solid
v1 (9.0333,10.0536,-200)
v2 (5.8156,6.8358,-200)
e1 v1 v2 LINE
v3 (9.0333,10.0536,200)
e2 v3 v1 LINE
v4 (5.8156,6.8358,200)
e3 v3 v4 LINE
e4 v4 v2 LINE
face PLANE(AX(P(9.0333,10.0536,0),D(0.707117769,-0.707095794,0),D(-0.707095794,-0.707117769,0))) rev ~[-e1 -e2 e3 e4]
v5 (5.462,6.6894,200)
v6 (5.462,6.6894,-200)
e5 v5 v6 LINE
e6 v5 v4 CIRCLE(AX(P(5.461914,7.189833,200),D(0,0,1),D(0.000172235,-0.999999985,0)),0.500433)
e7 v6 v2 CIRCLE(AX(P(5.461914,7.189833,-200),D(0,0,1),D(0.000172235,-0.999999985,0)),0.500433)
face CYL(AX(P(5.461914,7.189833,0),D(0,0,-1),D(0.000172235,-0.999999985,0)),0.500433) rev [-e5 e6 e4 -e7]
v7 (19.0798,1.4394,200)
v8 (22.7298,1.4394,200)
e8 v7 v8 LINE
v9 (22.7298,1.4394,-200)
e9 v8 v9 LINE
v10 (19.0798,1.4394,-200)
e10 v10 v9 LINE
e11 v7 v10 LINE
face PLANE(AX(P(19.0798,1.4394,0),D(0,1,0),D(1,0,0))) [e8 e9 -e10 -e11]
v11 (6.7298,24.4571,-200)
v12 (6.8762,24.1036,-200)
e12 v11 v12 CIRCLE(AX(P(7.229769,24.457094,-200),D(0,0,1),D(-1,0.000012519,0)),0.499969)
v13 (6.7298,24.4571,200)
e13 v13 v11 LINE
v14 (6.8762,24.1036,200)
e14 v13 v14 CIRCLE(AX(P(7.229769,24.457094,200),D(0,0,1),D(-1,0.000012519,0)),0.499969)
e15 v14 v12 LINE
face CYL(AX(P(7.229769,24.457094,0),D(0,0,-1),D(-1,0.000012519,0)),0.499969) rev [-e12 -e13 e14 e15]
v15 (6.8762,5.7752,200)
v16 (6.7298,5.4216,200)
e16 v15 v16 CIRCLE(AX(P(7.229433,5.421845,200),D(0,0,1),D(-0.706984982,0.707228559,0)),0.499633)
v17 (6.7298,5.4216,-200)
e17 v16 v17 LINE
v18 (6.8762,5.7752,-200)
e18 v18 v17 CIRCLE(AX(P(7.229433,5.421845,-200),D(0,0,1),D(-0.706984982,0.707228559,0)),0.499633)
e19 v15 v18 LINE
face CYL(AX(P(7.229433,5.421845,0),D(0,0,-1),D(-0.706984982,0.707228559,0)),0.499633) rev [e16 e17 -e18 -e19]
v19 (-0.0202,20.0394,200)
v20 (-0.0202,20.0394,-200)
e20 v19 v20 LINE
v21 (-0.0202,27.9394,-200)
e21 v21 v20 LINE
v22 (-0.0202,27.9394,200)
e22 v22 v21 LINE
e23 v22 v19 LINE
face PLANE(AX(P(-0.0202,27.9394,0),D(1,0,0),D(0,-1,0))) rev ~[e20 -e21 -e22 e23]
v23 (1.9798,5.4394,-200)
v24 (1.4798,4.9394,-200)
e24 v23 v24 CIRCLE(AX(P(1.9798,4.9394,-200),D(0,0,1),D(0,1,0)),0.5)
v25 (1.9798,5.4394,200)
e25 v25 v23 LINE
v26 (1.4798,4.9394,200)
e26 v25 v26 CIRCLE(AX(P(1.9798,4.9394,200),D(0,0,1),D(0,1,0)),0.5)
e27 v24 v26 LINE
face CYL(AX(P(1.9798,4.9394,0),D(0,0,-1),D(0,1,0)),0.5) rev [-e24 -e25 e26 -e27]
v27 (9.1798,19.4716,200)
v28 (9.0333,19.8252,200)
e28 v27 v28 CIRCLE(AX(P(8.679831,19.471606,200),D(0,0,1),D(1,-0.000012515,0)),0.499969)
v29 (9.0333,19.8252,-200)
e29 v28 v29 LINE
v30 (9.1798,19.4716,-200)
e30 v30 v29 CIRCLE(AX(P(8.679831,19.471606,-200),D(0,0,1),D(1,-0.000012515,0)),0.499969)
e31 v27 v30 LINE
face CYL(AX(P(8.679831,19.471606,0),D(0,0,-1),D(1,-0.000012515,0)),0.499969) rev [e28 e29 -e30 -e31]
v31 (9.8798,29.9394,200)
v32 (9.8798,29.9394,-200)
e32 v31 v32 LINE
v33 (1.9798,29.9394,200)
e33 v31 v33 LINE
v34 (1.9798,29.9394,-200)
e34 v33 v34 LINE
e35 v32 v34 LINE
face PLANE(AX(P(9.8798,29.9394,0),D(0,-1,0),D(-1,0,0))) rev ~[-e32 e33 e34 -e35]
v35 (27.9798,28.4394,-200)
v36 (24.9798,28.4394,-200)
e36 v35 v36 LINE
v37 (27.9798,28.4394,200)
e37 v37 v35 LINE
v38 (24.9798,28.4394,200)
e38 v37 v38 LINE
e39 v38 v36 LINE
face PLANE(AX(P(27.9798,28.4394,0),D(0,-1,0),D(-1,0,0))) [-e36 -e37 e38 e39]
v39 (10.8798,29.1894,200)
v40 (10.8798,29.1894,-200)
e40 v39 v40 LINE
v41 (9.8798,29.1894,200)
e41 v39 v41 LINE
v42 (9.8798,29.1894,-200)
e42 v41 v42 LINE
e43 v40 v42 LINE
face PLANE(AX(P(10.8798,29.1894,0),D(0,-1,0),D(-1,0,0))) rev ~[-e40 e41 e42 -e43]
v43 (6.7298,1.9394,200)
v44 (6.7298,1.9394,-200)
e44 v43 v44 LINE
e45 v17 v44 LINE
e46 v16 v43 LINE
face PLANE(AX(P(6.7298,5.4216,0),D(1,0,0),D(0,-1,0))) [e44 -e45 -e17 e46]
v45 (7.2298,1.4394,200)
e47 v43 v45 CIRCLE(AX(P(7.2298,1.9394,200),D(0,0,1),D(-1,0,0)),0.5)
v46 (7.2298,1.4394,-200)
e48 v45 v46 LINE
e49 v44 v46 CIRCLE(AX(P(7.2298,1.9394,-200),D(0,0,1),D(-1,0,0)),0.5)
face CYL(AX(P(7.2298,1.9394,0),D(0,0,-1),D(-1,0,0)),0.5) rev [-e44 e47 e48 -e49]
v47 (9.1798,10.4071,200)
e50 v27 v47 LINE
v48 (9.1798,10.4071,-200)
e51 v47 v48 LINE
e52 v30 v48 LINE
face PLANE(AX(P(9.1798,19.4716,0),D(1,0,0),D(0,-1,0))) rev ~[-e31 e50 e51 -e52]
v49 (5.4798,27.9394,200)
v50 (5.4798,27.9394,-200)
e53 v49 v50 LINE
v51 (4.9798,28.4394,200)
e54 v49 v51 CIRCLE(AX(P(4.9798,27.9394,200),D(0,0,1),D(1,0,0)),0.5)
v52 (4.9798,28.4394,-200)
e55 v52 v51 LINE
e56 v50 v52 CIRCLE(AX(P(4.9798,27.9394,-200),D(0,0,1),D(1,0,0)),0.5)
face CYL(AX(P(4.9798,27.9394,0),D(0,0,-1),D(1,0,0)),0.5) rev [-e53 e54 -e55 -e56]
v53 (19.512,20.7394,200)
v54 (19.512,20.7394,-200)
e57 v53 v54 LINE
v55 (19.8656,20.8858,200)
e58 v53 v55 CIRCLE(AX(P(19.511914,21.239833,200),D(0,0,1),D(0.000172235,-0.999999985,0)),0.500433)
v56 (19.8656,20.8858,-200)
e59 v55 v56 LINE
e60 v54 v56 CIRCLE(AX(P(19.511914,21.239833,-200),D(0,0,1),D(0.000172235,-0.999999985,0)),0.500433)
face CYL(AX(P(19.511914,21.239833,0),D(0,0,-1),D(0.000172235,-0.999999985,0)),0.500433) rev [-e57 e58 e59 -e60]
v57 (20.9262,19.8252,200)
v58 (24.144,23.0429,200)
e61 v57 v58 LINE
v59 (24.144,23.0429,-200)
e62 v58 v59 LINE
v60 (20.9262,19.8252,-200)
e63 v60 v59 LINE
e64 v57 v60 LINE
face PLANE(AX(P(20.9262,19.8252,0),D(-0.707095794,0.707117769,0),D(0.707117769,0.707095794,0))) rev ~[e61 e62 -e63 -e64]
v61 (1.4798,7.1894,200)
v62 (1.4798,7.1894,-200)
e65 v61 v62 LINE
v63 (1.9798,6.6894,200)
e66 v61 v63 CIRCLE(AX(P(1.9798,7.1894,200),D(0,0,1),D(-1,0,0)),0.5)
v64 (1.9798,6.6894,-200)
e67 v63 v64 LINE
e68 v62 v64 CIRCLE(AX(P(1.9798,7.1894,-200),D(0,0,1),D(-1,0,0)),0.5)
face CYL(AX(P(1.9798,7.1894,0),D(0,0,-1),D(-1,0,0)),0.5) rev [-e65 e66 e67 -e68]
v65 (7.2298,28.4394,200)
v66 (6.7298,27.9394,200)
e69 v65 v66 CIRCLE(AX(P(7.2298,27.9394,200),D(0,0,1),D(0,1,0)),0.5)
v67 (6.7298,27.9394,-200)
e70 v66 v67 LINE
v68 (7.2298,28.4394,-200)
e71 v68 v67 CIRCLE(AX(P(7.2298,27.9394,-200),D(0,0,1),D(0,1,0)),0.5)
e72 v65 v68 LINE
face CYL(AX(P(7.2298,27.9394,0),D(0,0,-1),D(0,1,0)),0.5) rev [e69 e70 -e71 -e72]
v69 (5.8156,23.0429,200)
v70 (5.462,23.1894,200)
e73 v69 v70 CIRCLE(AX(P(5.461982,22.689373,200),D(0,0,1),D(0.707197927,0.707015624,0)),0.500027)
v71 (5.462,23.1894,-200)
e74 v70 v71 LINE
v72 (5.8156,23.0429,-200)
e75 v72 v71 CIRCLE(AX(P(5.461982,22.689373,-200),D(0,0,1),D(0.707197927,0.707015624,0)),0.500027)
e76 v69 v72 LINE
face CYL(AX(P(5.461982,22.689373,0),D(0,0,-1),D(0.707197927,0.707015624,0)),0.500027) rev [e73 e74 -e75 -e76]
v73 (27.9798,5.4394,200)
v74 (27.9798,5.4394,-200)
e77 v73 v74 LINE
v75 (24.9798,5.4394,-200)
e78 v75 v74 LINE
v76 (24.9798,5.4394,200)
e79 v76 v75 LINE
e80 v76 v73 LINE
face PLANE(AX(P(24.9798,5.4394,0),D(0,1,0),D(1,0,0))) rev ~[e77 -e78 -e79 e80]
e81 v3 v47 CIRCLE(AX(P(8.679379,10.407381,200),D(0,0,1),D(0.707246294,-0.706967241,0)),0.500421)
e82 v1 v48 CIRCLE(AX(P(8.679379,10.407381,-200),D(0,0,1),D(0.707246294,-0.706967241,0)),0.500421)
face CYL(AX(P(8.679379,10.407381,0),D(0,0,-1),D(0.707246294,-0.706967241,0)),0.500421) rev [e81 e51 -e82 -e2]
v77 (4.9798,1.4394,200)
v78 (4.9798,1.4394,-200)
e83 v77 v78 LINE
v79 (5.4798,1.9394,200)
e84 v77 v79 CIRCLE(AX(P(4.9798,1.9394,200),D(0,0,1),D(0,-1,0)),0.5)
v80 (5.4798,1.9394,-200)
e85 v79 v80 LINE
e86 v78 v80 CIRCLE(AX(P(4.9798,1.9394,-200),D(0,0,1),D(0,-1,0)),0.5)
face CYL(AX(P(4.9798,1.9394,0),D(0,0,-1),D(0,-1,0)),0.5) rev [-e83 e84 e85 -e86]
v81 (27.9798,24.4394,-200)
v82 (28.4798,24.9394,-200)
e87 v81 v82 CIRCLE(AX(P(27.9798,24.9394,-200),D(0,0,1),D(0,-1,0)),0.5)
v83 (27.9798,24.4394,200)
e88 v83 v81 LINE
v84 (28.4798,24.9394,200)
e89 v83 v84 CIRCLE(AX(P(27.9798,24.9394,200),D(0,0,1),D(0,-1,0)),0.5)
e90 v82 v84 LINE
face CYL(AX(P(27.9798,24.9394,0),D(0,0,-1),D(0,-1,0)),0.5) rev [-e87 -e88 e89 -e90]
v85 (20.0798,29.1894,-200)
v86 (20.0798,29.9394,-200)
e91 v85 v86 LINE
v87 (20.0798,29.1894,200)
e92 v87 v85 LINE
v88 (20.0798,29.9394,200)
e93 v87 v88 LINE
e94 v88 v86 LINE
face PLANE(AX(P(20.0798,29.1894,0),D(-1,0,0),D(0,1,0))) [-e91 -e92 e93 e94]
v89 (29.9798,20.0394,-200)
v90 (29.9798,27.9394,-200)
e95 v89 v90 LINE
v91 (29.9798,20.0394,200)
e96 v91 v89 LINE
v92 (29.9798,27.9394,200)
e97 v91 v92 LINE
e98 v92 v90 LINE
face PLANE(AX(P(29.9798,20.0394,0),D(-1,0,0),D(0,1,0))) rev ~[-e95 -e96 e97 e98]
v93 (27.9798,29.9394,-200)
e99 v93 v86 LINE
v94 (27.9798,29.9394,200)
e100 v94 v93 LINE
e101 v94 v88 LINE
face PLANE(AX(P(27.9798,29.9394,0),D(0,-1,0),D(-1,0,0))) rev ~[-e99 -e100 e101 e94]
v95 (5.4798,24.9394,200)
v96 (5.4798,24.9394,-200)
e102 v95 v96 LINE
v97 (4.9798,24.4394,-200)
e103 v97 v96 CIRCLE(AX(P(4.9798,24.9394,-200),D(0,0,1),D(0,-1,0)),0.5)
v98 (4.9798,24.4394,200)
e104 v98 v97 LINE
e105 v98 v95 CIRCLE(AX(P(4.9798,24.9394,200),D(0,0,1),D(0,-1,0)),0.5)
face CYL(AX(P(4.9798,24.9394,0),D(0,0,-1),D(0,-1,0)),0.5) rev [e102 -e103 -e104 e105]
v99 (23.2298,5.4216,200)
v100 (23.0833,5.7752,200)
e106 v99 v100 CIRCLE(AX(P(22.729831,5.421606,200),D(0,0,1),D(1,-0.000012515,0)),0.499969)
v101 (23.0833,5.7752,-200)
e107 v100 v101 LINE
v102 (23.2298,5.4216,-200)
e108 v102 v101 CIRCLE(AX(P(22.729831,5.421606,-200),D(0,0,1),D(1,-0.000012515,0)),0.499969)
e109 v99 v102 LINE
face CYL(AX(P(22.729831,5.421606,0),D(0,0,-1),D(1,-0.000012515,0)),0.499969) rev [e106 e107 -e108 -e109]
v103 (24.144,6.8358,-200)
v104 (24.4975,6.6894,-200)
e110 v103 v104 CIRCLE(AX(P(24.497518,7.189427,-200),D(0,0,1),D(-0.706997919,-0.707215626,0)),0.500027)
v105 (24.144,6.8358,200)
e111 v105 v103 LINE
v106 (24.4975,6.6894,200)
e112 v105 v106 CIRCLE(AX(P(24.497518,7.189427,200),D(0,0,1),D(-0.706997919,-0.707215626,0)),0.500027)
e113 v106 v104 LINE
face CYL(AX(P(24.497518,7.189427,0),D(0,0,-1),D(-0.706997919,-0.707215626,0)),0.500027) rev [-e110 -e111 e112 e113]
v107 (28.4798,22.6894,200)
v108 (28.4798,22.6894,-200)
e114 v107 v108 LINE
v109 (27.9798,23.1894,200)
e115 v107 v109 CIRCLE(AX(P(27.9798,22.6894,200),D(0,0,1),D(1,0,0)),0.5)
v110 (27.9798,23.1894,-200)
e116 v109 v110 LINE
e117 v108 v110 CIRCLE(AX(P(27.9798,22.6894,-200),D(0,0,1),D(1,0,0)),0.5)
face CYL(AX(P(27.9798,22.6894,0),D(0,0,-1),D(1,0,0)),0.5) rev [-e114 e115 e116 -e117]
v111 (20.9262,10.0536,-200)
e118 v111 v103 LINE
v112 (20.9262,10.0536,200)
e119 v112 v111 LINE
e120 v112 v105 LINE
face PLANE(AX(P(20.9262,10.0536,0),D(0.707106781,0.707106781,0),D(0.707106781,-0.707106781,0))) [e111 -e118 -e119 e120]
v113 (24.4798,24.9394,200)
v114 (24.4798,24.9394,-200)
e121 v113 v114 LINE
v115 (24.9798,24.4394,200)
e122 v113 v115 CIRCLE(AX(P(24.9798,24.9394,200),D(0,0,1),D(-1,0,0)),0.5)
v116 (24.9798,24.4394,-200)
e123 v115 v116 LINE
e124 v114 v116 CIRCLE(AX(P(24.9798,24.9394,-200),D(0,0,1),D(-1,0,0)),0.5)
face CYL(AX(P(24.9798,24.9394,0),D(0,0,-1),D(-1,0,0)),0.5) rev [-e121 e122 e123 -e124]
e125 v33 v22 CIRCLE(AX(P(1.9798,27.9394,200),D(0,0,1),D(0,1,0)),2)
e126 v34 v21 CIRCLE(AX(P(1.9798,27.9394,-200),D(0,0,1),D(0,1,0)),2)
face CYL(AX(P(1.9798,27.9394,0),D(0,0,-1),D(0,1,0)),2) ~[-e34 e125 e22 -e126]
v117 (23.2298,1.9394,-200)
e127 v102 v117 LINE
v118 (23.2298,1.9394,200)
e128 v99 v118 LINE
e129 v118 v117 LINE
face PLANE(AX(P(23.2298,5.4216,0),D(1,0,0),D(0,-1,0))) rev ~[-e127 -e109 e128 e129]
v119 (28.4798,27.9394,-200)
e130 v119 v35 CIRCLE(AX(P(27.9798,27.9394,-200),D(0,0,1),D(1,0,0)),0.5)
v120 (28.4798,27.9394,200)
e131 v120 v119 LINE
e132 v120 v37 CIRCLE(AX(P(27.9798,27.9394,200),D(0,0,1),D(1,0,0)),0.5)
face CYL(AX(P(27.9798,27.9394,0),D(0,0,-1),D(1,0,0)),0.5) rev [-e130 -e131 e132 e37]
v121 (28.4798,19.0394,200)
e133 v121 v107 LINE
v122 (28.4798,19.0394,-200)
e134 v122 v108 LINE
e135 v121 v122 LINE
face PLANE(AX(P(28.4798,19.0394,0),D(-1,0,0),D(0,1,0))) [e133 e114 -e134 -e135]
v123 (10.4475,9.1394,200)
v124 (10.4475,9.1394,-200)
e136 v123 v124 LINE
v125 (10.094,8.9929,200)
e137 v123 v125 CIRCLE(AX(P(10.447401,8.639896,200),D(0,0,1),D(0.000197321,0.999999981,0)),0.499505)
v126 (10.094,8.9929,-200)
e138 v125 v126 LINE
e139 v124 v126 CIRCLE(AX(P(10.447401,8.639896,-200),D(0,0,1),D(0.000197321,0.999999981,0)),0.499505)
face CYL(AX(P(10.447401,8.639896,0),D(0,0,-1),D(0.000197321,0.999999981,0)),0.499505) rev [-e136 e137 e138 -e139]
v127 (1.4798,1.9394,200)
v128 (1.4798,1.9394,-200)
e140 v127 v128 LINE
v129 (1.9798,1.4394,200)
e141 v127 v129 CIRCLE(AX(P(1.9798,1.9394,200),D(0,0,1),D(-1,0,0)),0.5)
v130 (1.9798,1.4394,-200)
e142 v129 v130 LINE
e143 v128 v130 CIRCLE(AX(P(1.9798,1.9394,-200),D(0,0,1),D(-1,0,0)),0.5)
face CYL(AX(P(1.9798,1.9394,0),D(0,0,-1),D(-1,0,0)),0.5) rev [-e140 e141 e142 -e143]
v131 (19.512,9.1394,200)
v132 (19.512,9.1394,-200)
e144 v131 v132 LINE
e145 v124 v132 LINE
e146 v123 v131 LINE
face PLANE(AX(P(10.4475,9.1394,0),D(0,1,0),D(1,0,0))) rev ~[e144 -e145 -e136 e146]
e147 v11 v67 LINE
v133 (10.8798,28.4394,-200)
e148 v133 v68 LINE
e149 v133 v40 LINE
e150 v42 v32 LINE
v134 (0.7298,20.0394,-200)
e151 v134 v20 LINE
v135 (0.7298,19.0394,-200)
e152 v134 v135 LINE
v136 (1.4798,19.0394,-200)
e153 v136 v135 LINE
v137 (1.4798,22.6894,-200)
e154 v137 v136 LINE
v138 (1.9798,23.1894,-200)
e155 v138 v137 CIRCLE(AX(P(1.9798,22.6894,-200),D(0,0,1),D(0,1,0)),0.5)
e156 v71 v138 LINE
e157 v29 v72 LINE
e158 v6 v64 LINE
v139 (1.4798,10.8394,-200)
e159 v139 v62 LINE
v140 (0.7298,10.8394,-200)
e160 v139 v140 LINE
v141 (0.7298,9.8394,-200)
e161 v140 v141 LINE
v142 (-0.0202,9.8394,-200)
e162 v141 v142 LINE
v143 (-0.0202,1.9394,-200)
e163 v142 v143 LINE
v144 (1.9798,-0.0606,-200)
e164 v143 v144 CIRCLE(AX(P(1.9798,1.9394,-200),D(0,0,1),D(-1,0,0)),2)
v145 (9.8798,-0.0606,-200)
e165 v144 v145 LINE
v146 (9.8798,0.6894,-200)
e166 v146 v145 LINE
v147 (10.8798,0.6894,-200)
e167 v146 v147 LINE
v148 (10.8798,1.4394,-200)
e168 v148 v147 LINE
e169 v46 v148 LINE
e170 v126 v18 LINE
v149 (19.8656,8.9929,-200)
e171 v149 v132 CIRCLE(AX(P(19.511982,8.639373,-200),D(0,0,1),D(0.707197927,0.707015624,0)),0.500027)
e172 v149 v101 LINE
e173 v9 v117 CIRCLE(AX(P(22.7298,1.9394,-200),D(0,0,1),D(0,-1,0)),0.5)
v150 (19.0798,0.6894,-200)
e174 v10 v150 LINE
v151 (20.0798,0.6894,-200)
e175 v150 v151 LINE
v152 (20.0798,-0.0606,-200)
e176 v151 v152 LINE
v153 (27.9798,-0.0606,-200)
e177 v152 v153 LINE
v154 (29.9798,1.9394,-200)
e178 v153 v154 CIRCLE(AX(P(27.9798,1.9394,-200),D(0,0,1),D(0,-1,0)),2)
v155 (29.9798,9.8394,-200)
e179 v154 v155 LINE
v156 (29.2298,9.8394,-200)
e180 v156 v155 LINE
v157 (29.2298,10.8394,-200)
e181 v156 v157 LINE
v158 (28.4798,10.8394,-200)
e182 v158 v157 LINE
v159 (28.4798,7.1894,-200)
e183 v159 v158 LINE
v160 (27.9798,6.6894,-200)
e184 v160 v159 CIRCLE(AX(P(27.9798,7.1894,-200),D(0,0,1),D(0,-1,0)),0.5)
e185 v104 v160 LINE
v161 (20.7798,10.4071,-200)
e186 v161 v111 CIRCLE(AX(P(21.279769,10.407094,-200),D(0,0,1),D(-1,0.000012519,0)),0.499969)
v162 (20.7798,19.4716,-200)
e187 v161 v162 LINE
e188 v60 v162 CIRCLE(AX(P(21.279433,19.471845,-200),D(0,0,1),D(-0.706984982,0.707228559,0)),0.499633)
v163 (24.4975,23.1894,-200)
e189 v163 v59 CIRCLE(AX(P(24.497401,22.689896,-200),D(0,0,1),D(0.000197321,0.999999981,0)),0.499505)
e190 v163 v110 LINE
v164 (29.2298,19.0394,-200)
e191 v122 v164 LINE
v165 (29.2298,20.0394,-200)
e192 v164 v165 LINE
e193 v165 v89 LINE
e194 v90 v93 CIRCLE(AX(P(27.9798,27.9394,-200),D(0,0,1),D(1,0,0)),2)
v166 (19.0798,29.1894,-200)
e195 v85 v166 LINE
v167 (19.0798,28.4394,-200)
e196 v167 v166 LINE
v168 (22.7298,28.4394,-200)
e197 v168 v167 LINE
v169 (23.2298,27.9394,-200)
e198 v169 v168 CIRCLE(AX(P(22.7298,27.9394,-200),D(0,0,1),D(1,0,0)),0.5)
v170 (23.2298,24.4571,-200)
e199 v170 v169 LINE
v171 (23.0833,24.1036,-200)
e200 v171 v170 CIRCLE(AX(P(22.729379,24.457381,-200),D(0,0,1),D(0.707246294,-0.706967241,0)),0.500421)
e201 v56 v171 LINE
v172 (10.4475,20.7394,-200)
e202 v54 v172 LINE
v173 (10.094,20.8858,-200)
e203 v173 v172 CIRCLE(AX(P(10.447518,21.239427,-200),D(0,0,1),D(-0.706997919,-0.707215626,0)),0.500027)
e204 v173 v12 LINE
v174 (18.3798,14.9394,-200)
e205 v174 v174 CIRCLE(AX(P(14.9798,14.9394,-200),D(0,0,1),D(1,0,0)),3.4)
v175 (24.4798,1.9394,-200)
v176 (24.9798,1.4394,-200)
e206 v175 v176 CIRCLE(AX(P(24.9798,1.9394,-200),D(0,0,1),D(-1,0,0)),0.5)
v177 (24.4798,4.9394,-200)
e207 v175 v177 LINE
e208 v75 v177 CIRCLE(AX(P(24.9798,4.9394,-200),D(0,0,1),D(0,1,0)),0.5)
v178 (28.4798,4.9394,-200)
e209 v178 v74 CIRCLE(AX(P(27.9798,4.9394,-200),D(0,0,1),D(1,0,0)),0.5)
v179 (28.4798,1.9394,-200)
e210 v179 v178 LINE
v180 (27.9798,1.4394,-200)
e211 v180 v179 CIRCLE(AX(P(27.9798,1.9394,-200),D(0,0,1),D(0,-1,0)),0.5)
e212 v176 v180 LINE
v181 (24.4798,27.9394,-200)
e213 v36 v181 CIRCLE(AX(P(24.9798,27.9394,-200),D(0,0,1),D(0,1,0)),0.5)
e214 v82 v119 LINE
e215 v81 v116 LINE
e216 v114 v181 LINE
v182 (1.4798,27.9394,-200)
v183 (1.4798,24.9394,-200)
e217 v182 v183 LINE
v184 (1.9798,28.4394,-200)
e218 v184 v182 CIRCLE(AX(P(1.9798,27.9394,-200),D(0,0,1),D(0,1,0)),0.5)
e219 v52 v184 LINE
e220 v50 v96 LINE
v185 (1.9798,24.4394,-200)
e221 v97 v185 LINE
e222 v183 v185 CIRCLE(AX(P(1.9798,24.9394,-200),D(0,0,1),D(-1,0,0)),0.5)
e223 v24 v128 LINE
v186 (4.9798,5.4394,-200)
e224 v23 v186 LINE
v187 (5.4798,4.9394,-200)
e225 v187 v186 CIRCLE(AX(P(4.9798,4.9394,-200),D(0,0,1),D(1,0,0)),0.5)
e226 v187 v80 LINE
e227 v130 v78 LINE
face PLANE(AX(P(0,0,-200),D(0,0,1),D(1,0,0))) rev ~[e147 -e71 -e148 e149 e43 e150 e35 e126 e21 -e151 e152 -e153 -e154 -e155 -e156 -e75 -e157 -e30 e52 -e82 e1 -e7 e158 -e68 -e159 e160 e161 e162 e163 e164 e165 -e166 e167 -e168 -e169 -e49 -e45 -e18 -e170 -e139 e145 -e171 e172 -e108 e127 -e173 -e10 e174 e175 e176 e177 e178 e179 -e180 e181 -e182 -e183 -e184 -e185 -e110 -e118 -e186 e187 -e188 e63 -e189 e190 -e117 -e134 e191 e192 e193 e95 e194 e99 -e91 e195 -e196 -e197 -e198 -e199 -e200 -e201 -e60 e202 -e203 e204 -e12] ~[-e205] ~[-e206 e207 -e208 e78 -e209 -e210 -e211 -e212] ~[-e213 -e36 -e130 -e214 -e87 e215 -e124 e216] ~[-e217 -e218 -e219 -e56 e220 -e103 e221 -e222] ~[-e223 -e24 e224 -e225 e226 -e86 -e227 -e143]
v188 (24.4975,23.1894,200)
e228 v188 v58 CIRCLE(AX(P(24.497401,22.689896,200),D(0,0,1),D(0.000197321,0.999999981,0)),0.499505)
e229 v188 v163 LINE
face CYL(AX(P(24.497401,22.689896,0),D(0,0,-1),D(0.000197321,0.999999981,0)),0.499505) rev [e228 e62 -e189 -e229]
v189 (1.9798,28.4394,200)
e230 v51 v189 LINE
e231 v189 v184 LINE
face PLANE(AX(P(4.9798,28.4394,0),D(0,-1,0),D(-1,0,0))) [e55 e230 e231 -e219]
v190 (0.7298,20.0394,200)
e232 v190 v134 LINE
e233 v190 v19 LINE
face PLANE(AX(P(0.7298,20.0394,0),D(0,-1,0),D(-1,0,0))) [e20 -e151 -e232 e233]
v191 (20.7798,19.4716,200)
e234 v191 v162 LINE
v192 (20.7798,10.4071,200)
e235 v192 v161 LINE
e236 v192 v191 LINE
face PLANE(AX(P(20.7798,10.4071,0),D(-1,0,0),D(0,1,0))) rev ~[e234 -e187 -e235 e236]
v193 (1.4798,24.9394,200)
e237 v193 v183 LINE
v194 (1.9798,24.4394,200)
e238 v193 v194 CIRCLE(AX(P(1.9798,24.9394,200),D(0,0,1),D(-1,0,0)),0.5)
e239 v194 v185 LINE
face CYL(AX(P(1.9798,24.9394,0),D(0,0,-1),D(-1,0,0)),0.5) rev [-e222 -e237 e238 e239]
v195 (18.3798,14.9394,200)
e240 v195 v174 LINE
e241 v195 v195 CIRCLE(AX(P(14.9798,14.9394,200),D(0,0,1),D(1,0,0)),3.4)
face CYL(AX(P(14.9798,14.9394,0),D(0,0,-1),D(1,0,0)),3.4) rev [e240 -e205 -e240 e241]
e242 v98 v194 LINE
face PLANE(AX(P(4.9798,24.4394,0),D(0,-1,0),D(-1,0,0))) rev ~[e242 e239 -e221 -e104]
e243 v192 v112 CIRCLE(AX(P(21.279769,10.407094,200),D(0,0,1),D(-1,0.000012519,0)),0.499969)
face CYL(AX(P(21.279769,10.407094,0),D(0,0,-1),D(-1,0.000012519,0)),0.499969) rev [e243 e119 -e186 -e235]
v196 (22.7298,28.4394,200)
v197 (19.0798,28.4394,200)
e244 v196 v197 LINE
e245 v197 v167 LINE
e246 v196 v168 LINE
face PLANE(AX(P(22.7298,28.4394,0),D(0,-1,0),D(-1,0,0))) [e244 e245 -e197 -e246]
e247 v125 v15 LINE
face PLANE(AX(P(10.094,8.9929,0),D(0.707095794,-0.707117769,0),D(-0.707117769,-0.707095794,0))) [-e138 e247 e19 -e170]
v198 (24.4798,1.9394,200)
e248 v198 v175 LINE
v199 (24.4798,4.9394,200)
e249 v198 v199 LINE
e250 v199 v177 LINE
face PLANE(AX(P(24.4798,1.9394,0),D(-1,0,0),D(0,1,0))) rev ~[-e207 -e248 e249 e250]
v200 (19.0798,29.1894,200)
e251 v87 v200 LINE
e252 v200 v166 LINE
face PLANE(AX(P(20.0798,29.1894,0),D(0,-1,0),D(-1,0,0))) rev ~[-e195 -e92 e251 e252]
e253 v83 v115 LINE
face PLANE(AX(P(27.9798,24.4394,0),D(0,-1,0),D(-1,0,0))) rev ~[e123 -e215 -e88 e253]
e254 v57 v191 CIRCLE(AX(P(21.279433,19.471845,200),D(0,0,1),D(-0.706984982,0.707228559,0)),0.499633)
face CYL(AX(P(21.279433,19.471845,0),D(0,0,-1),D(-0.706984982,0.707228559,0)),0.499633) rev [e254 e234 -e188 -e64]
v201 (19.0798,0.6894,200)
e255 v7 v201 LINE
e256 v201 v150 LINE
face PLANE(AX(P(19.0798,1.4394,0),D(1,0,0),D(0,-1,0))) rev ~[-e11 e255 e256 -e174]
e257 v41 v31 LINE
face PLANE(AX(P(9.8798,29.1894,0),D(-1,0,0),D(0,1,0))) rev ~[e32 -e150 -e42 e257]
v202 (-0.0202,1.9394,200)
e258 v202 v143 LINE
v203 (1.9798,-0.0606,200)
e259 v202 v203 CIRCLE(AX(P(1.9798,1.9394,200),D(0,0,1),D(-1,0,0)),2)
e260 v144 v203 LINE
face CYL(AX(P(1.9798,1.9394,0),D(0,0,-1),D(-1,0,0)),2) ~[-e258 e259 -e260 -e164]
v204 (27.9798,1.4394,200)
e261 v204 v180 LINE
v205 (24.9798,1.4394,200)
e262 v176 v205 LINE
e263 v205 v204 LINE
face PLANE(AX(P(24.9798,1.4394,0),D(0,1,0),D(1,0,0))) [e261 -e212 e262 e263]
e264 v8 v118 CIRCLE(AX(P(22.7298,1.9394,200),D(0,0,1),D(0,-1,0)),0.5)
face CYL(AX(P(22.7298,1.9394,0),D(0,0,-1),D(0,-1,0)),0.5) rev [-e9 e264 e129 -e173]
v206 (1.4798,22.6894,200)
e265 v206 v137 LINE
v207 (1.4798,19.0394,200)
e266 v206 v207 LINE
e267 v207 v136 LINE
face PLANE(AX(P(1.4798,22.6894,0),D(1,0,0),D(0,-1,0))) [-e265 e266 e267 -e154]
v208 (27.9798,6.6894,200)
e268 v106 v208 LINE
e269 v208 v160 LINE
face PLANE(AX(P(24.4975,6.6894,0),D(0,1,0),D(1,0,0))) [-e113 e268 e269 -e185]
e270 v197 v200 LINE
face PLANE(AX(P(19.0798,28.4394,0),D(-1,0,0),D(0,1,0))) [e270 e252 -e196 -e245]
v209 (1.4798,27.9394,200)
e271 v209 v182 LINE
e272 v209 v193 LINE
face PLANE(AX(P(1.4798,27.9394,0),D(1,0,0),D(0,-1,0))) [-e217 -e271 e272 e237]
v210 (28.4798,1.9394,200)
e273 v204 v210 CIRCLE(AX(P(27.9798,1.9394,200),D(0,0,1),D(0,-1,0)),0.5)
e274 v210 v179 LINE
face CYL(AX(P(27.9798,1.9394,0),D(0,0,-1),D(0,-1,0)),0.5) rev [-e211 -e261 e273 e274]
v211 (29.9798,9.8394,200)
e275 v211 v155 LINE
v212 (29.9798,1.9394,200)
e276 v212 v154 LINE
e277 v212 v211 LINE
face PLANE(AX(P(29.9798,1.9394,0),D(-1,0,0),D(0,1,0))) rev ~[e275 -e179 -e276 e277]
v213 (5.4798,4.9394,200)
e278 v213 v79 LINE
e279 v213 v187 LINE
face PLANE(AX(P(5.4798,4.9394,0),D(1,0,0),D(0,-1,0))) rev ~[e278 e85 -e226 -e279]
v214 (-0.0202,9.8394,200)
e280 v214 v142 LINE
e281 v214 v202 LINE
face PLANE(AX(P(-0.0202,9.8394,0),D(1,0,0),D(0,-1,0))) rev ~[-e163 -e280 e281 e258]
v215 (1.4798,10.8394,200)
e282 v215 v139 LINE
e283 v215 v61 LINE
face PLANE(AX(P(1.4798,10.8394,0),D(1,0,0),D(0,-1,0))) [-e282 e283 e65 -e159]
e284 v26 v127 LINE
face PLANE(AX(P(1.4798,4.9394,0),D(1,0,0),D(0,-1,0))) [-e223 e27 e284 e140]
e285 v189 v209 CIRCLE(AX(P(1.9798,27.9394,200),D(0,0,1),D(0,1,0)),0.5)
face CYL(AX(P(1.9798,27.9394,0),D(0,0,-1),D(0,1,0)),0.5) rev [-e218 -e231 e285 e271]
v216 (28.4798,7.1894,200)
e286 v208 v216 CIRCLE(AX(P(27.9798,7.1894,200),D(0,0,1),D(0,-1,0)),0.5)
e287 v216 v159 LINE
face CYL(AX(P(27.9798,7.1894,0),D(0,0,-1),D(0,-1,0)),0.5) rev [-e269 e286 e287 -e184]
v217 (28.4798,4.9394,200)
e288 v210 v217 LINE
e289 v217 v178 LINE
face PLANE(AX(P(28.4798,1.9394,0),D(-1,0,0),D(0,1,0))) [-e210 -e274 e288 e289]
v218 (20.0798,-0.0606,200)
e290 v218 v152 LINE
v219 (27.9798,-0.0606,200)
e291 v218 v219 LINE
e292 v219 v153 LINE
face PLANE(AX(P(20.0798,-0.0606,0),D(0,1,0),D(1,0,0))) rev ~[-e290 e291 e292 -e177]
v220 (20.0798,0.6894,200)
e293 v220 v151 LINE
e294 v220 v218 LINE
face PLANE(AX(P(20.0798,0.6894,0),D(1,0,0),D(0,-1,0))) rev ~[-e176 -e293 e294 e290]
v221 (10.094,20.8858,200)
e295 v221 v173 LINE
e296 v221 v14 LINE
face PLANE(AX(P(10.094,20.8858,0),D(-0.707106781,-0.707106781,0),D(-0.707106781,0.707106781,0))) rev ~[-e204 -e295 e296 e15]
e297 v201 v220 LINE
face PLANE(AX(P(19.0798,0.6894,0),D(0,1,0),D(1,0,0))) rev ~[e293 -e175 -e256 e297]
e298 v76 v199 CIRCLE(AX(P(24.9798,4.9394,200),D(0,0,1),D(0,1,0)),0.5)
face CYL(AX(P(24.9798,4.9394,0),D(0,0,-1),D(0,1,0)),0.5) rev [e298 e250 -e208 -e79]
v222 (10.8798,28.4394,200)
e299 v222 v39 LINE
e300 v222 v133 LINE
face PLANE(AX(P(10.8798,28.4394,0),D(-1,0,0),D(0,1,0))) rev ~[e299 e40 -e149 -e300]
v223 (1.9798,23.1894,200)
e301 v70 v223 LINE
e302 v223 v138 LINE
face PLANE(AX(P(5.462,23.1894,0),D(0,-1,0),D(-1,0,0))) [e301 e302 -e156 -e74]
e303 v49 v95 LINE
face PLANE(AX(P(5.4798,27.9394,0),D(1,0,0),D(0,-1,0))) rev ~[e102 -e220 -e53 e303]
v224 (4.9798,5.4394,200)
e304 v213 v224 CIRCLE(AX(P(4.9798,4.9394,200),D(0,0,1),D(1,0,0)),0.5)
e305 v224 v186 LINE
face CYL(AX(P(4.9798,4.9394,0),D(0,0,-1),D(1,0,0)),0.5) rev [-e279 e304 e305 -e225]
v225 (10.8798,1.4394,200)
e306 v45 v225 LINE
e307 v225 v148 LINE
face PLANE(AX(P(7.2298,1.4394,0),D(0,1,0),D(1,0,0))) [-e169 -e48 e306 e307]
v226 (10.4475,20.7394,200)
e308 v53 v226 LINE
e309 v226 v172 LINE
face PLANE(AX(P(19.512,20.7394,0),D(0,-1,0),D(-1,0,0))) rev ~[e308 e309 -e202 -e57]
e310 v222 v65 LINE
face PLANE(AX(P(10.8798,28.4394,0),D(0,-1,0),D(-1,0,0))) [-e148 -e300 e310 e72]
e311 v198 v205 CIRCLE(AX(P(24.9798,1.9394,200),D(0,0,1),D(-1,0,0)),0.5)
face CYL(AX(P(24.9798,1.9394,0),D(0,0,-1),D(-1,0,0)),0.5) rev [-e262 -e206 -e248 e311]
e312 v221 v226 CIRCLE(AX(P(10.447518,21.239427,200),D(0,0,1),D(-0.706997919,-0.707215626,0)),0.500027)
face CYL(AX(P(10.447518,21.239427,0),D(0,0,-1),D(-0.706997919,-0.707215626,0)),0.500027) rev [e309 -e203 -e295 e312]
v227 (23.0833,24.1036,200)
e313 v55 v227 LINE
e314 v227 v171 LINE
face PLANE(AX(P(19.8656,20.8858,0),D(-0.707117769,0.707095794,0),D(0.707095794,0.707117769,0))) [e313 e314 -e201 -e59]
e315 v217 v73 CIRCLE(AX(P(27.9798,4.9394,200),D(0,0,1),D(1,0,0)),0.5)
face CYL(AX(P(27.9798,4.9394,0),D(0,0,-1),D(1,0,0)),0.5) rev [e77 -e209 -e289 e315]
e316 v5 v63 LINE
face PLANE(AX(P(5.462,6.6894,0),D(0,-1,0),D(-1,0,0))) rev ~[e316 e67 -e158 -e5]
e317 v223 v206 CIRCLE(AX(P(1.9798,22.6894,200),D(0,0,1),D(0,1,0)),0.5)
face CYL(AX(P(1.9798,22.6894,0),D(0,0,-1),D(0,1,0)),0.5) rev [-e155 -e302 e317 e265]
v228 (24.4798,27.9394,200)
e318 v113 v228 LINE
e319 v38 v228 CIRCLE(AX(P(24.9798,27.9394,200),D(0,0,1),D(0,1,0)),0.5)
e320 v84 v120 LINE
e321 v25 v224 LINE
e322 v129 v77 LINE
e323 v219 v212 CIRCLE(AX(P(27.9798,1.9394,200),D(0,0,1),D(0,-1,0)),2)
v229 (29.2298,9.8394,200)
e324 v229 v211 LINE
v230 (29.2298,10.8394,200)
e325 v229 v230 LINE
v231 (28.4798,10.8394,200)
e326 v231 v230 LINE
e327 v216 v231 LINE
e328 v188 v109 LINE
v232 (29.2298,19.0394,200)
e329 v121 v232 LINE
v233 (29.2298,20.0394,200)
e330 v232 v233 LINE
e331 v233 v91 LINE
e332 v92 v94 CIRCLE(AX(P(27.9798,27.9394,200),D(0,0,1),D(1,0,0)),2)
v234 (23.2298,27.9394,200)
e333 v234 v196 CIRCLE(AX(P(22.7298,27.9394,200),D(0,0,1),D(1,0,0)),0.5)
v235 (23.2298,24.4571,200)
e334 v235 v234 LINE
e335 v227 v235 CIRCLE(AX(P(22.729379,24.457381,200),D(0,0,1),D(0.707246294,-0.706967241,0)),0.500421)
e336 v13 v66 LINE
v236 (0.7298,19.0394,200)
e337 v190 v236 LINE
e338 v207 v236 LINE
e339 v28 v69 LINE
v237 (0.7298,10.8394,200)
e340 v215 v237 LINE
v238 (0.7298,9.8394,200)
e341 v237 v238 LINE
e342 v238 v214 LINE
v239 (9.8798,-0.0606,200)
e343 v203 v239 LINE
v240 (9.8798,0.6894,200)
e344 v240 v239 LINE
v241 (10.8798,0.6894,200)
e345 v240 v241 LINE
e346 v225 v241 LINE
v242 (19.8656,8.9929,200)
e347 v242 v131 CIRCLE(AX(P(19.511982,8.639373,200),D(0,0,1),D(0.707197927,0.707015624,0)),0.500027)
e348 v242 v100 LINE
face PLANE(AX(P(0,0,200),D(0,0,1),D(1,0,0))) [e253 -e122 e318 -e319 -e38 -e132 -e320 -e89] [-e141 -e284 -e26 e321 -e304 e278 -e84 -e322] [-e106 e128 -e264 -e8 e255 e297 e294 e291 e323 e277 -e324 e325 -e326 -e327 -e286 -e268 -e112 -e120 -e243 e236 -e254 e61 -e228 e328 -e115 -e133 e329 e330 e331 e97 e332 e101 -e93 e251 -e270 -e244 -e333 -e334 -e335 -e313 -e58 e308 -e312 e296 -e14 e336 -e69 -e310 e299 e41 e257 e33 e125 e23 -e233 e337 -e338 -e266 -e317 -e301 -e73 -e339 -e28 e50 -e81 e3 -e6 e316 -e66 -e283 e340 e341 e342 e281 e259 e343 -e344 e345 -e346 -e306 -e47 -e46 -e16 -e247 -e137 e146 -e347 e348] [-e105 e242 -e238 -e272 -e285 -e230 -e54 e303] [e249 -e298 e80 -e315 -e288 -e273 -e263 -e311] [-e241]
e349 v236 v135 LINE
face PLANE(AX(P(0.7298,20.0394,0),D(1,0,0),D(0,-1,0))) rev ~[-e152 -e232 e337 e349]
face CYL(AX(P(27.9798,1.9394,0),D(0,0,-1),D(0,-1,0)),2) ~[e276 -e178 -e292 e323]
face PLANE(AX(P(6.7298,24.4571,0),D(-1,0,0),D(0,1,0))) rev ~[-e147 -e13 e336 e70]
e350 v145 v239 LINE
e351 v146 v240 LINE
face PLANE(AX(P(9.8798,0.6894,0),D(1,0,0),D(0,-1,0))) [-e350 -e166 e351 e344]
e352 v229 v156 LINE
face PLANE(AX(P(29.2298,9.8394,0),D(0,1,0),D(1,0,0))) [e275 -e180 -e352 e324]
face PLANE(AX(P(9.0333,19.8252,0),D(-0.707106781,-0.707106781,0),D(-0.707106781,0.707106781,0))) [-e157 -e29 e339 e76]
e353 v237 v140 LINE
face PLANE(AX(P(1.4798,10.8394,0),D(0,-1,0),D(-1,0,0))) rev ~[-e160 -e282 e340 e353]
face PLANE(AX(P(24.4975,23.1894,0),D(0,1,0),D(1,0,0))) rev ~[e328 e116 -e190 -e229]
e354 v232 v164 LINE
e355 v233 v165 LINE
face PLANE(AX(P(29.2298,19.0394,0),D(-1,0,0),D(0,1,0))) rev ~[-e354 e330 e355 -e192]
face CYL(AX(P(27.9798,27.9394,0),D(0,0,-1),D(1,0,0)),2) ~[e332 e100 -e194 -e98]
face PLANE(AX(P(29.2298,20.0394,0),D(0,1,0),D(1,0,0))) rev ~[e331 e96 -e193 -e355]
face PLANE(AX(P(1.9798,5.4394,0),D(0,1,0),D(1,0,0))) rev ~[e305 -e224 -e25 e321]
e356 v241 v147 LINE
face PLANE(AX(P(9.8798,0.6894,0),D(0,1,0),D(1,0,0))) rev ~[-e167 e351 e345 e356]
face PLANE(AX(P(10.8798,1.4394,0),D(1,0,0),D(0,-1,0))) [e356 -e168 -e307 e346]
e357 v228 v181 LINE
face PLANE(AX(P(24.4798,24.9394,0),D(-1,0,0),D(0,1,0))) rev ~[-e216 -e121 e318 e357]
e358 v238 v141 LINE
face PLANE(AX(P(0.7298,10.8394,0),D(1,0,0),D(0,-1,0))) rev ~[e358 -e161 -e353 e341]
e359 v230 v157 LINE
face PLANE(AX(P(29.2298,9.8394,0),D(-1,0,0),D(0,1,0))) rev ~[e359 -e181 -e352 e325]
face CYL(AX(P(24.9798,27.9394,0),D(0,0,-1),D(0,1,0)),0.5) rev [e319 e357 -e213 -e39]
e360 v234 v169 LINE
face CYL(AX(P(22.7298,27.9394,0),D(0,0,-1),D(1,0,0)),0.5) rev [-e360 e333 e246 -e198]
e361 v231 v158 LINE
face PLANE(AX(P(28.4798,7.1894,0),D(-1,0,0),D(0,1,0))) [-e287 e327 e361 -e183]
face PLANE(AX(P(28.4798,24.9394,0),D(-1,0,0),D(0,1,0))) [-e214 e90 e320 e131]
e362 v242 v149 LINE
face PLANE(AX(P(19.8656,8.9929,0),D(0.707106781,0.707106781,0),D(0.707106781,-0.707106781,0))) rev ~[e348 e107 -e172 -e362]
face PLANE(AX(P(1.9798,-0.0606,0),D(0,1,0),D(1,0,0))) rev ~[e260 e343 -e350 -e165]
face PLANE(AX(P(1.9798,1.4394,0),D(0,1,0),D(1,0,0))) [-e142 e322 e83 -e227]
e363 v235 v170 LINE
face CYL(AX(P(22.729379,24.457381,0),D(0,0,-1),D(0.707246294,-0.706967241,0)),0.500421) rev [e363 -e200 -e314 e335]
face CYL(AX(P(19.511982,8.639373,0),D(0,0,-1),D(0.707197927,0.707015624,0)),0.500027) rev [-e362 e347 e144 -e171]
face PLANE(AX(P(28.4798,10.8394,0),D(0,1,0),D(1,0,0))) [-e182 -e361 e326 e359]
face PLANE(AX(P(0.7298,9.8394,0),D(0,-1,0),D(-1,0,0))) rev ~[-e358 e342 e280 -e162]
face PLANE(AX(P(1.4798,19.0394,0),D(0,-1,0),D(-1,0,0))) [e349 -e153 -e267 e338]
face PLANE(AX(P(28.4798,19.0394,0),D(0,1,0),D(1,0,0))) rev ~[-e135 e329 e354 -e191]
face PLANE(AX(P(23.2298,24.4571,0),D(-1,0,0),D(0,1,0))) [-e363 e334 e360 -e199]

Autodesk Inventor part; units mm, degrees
ref_plane "YZ Plane" through (0, 0, 0) normal (1, 0, 0) x (0, 1, 0)
ref_plane "XZ Plane" through (0, 0, 0) normal (0, 1, 0) x (-1, 0, 0)
ref_plane "XY Plane" through (0, 0, 0) normal (0, 0, 1) x (1, 0, 0)
sketch "Sketch1" plane through (0, 0, 0) normal (0, 0, 1) x (1, 0, 0)
  line L0 (1.9798, -0.0606) -> (9.8798, -0.0606)
  line L1 (20.0798, -0.0606) -> (27.9798, -0.0606)
  arc A0 (-0.0202, 1.9394) -> (1.9798, -0.0606) centre (1.9798, 1.9394) ccw
  line L2 (29.9798, 1.9394) -> (29.9798, 9.8394)
  arc A1 (27.9798, -0.0606) -> (29.9798, 1.9394) centre (27.9798, 1.9394) ccw
  line L3 (29.9798, 20.0394) -> (29.9798, 27.9394)
  arc A2 (29.9798, 27.9394) -> (27.9798, 29.9394) centre (27.9798, 27.9394) ccw
  line L4 (27.9798, 29.9394) -> (20.0798, 29.9394)
  line L5 (9.8798, 29.9394) -> (1.9798, 29.9394)
  line L6 (-0.0202, 27.9394) -> (-0.0202, 20.0394)
  line L7 (-0.0202, 9.8394) -> (-0.0202, 1.9394)
  arc A3 (1.9798, 29.9394) -> (-0.0202, 27.9394) centre (1.9798, 27.9394) ccw
  circle A4 centre (14.9798, 14.9394) radius 3.4
  line L8 (24.9798, 1.4394) -> (27.9798, 1.4394)
  arc A5 (27.9798, 1.4394) -> (28.4798, 1.9394) centre (27.9798, 1.9394) ccw
  line L9 (28.4798, 1.9394) -> (28.4798, 4.9394)
  arc A6 (28.4798, 4.9394) -> (27.9798, 5.4394) centre (27.9798, 4.9394) ccw
  line L10 (29.2298, 9.8394) -> (29.2298, 10.8394)
  line L11 (29.2298, 19.0394) -> (29.2298, 20.0394)
  line L12 (28.4798, 7.1894) -> (28.4798, 10.8394)
  arc A7 (27.9798, 6.6894) -> (28.4798, 7.1894) centre (27.9798, 7.1894) ccw
  line L13 (28.4798, 19.0394) -> (28.4798, 22.6894)
  arc A8 (28.4798, 22.6894) -> (27.9798, 23.1894) centre (27.9798, 22.6894) ccw
  line L14 (20.9262, 19.8252) -> (24.144, 23.0429)
  arc A9 (24.4975, 23.1894) -> (24.144, 23.0429) centre (24.4975, 22.6894) ccw
  line L15 (20.9262, 10.0536) -> (24.144, 6.8358)
  arc A10 (20.7798, 10.4071) -> (20.9262, 10.0536) centre (21.2798, 10.4071) ccw
  line L16 (24.4975, 6.6894) -> (27.9798, 6.6894)
  arc A11 (24.144, 6.8358) -> (24.4975, 6.6894) centre (24.4975, 7.1894) ccw
  line L17 (24.4975, 23.1894) -> (27.9798, 23.1894)
  line L18 (28.4798, 10.8394) -> (29.2298, 10.8394)
  line L19 (28.4798, 19.0394) -> (29.2298, 19.0394)
  line L20 (29.2298, 9.8394) -> (29.9798, 9.8394)
  line L21 (29.2298, 20.0394) -> (29.9798, 20.0394)
  line L22 (20.7798, 10.4071) -> (20.7798, 19.4716)
  arc A12 (20.9262, 19.8252) -> (20.7798, 19.4716) centre (21.2798, 19.4716) ccw
  line L23 (24.4798, 1.9394) -> (24.4798, 4.9394)
  arc A13 (24.4798, 1.9394) -> (24.9798, 1.4394) centre (24.9798, 1.9394) ccw
  line L24 (24.9798, 5.4394) -> (27.9798, 5.4394)
  arc A14 (24.9798, 5.4394) -> (24.4798, 4.9394) centre (24.9798, 4.9394) ccw
  line L25 (28.4798, 24.9394) -> (28.4798, 27.9394)
  arc A15 (28.4798, 27.9394) -> (27.9798, 28.4394) centre (27.9798, 27.9394) ccw
  line L26 (27.9798, 28.4394) -> (24.9798, 28.4394)
  arc A16 (24.9798, 28.4394) -> (24.4798, 27.9394) centre (24.9798, 27.9394) ccw
  line L27 (20.0798, 29.1894) -> (19.0798, 29.1894)
  line L28 (10.8798, 29.1894) -> (9.8798, 29.1894)
  line L29 (22.7298, 28.4394) -> (19.0798, 28.4394)
  arc A17 (23.2298, 27.9394) -> (22.7298, 28.4394) centre (22.7298, 27.9394) ccw
  line L30 (10.8798, 28.4394) -> (7.2298, 28.4394)
  arc A18 (7.2298, 28.4394) -> (6.7298, 27.9394) centre (7.2298, 27.9394) ccw
  line L31 (10.094, 20.8858) -> (6.8762, 24.1036)
  arc A19 (6.7298, 24.4571) -> (6.8762, 24.1036) centre (7.2298, 24.4571) ccw
  line L32 (19.8656, 20.8858) -> (23.0833, 24.1036)
  arc A20 (19.512, 20.7394) -> (19.8656, 20.8858) centre (19.512, 21.2394) ccw
  line L33 (23.2298, 24.4571) -> (23.2298, 27.9394)
  arc A21 (23.0833, 24.1036) -> (23.2298, 24.4571) centre (22.7298, 24.4571) ccw
  line L34 (6.7298, 24.4571) -> (6.7298, 27.9394)
  line L35 (19.0798, 28.4394) -> (19.0798, 29.1894)
  line L36 (10.8798, 28.4394) -> (10.8798, 29.1894)
  line L37 (20.0798, 29.1894) -> (20.0798, 29.9394)
  line L38 (9.8798, 29.1894) -> (9.8798, 29.9394)
  line L39 (19.512, 20.7394) -> (10.4475, 20.7394)
  arc A22 (10.094, 20.8858) -> (10.4475, 20.7394) centre (10.4475, 21.2394) ccw
  line L40 (27.9798, 24.4394) -> (24.9798, 24.4394)
  arc A23 (27.9798, 24.4394) -> (28.4798, 24.9394) centre (27.9798, 24.9394) ccw
  line L41 (24.4798, 24.9394) -> (24.4798, 27.9394)
  arc A24 (24.4798, 24.9394) -> (24.9798, 24.4394) centre (24.9798, 24.9394) ccw
  line L42 (4.9798, 28.4394) -> (1.9798, 28.4394)
  arc A25 (1.9798, 28.4394) -> (1.4798, 27.9394) centre (1.9798, 27.9394) ccw
  line L43 (1.4798, 27.9394) -> (1.4798, 24.9394)
  arc A26 (1.4798, 24.9394) -> (1.9798, 24.4394) centre (1.9798, 24.9394) ccw
  line L44 (0.7298, 20.0394) -> (0.7298, 19.0394)
  line L45 (0.7298, 10.8394) -> (0.7298, 9.8394)
  line L46 (1.4798, 22.6894) -> (1.4798, 19.0394)
  arc A27 (1.9798, 23.1894) -> (1.4798, 22.6894) centre (1.9798, 22.6894) ccw
  line L47 (1.4798, 10.8394) -> (1.4798, 7.1894)
  arc A28 (1.4798, 7.1894) -> (1.9798, 6.6894) centre (1.9798, 7.1894) ccw
  line L48 (9.0333, 10.0536) -> (5.8156, 6.8358)
  arc A29 (5.462, 6.6894) -> (5.8156, 6.8358) centre (5.462, 7.1894) ccw
  line L49 (9.0333, 19.8252) -> (5.8156, 23.0429)
  arc A30 (9.1798, 19.4716) -> (9.0333, 19.8252) centre (8.6798, 19.4716) ccw
  line L50 (5.462, 23.1894) -> (1.9798, 23.1894)
  arc A31 (5.8156, 23.0429) -> (5.462, 23.1894) centre (5.462, 22.6894) ccw
  line L51 (5.462, 6.6894) -> (1.9798, 6.6894)
  line L52 (1.4798, 19.0394) -> (0.7298, 19.0394)
  line L53 (1.4798, 10.8394) -> (0.7298, 10.8394)
  line L54 (0.7298, 20.0394) -> (-0.0202, 20.0394)
  line L55 (0.7298, 9.8394) -> (-0.0202, 9.8394)
  line L56 (9.1798, 19.4716) -> (9.1798, 10.4071)
  arc A32 (9.0333, 10.0536) -> (9.1798, 10.4071) centre (8.6798, 10.4071) ccw
  line L57 (5.4798, 27.9394) -> (5.4798, 24.9394)
  arc A33 (5.4798, 27.9394) -> (4.9798, 28.4394) centre (4.9798, 27.9394) ccw
  line L58 (4.9798, 24.4394) -> (1.9798, 24.4394)
  arc A34 (4.9798, 24.4394) -> (5.4798, 24.9394) centre (4.9798, 24.9394) ccw
  line L59 (1.4798, 4.9394) -> (1.4798, 1.9394)
  arc A35 (1.4798, 1.9394) -> (1.9798, 1.4394) centre (1.9798, 1.9394) ccw
  line L60 (1.9798, 1.4394) -> (4.9798, 1.4394)
  arc A36 (4.9798, 1.4394) -> (5.4798, 1.9394) centre (4.9798, 1.9394) ccw
  line L61 (9.8798, 0.6894) -> (10.8798, 0.6894)
  line L62 (19.0798, 0.6894) -> (20.0798, 0.6894)
  line L63 (7.2298, 1.4394) -> (10.8798, 1.4394)
  arc A37 (6.7298, 1.9394) -> (7.2298, 1.4394) centre (7.2298, 1.9394) ccw
  line L64 (19.0798, 1.4394) -> (22.7298, 1.4394)
  arc A38 (22.7298, 1.4394) -> (23.2298, 1.9394) centre (22.7298, 1.9394) ccw
  line L65 (19.8656, 8.9929) -> (23.0833, 5.7752)
  arc A39 (23.2298, 5.4216) -> (23.0833, 5.7752) centre (22.7298, 5.4216) ccw
  line L66 (10.094, 8.9929) -> (6.8762, 5.7752)
  arc A40 (10.4475, 9.1394) -> (10.094, 8.9929) centre (10.4475, 8.6394) ccw
  line L67 (6.7298, 5.4216) -> (6.7298, 1.9394)
  arc A41 (6.8762, 5.7752) -> (6.7298, 5.4216) centre (7.2298, 5.4216) ccw
  line L68 (23.2298, 5.4216) -> (23.2298, 1.9394)
  line L69 (10.8798, 1.4394) -> (10.8798, 0.6894)
  line L70 (19.0798, 1.4394) -> (19.0798, 0.6894)
  line L71 (9.8798, 0.6894) -> (9.8798, -0.0606)
  line L72 (20.0798, 0.6894) -> (20.0798, -0.0606)
  line L73 (10.4475, 9.1394) -> (19.512, 9.1394)
  arc A42 (19.8656, 8.9929) -> (19.512, 9.1394) centre (19.512, 8.6394) ccw
  line L74 (1.9798, 5.4394) -> (4.9798, 5.4394)
  arc A43 (1.9798, 5.4394) -> (1.4798, 4.9394) centre (1.9798, 4.9394) ccw
  line L75 (5.4798, 4.9394) -> (5.4798, 1.9394)
  arc A44 (5.4798, 4.9394) -> (4.9798, 5.4394) centre (4.9798, 4.9394) ccw
  point P0 (0, 0)
  dimension "d1" = 2
  dimension "d2" = 0.5
  dimension "d3" = 6.8
  dimension "d4" = 45
  dimension "d5" = 45
  dimension "d6" = 45
  dimension "d7" = 90
  dimension "d8" = 90
  dimension "d9" = 90
  dimension "d10" = 90
  dimension "d11" = 90
  dimension "d12" = 90
  dimension "d13" = 45
  dimension "d14" = 45
  dimension "d15" = 90
  dimension "d16" = 90
  dimension "d17" = 90
  dimension "d18" = 90
  dimension "d19" = 90
  dimension "d20" = 90
  dimension "d21" = 90
  dimension "d22" = 90
  dimension "d23" = 90
  dimension "d24" = 90
  dimension "d25" = 90
  dimension "d26" = 90
  dimension "d27" = 90
  dimension "d28" = 90
  dimension "d29" = 90
  dimension "d30" = 90
  dimension "d31" = 90
  dimension "d32" = 90
  dimension "d33" = 90
  dimension "d34" = 90
  dimension "d35" = 90
  dimension "d36" = 90
  dimension "d37" = 90
  dimension "d38" = 90
  dimension "d39" = 90
  dimension "d40" = 90
  dimension "d41" = 90
  dimension "d42" = 90
  dimension "d43" = 90
  dimension "d44" = 90
  dimension "d45" = 0.75
  dimension "d46" = 5.5
  dimension "d47" = 6.75
  dimension "d48" = 9.2
  dimension "d49" = 9.9
  dimension "d50" = 10.9
  dimension "d51" = 19.1
  dimension "d52" = 20.1
  dimension "d53" = 20.8
  dimension "d54" = 23.25
  dimension "d55" = 24.5
  dimension "d56" = 28.5
  dimension "d57" = 29.25
  dimension "d58" = 10.2
  dimension "d59" = 1
  dimension "d60" = 9.2
  dimension "d61" = 8.4
  dimension "d62" = 4.4
  dimension "d63" = 14.6
  dimension "d64" = 18.6
extrude "Extrusion1" add sketch "Sketch1" along normal mid plane 400
equation "\"d119\" = frame_height"
equation "\"frame_height\" = 400"
equation "\"platform_width\" = 214"
equation "\"platform_depth\" = 214"
equation "\"bed_cl_y_offset\" = 173.25"
properties part number "3030 Extrusion - Z" material "Aluminum 6061"
